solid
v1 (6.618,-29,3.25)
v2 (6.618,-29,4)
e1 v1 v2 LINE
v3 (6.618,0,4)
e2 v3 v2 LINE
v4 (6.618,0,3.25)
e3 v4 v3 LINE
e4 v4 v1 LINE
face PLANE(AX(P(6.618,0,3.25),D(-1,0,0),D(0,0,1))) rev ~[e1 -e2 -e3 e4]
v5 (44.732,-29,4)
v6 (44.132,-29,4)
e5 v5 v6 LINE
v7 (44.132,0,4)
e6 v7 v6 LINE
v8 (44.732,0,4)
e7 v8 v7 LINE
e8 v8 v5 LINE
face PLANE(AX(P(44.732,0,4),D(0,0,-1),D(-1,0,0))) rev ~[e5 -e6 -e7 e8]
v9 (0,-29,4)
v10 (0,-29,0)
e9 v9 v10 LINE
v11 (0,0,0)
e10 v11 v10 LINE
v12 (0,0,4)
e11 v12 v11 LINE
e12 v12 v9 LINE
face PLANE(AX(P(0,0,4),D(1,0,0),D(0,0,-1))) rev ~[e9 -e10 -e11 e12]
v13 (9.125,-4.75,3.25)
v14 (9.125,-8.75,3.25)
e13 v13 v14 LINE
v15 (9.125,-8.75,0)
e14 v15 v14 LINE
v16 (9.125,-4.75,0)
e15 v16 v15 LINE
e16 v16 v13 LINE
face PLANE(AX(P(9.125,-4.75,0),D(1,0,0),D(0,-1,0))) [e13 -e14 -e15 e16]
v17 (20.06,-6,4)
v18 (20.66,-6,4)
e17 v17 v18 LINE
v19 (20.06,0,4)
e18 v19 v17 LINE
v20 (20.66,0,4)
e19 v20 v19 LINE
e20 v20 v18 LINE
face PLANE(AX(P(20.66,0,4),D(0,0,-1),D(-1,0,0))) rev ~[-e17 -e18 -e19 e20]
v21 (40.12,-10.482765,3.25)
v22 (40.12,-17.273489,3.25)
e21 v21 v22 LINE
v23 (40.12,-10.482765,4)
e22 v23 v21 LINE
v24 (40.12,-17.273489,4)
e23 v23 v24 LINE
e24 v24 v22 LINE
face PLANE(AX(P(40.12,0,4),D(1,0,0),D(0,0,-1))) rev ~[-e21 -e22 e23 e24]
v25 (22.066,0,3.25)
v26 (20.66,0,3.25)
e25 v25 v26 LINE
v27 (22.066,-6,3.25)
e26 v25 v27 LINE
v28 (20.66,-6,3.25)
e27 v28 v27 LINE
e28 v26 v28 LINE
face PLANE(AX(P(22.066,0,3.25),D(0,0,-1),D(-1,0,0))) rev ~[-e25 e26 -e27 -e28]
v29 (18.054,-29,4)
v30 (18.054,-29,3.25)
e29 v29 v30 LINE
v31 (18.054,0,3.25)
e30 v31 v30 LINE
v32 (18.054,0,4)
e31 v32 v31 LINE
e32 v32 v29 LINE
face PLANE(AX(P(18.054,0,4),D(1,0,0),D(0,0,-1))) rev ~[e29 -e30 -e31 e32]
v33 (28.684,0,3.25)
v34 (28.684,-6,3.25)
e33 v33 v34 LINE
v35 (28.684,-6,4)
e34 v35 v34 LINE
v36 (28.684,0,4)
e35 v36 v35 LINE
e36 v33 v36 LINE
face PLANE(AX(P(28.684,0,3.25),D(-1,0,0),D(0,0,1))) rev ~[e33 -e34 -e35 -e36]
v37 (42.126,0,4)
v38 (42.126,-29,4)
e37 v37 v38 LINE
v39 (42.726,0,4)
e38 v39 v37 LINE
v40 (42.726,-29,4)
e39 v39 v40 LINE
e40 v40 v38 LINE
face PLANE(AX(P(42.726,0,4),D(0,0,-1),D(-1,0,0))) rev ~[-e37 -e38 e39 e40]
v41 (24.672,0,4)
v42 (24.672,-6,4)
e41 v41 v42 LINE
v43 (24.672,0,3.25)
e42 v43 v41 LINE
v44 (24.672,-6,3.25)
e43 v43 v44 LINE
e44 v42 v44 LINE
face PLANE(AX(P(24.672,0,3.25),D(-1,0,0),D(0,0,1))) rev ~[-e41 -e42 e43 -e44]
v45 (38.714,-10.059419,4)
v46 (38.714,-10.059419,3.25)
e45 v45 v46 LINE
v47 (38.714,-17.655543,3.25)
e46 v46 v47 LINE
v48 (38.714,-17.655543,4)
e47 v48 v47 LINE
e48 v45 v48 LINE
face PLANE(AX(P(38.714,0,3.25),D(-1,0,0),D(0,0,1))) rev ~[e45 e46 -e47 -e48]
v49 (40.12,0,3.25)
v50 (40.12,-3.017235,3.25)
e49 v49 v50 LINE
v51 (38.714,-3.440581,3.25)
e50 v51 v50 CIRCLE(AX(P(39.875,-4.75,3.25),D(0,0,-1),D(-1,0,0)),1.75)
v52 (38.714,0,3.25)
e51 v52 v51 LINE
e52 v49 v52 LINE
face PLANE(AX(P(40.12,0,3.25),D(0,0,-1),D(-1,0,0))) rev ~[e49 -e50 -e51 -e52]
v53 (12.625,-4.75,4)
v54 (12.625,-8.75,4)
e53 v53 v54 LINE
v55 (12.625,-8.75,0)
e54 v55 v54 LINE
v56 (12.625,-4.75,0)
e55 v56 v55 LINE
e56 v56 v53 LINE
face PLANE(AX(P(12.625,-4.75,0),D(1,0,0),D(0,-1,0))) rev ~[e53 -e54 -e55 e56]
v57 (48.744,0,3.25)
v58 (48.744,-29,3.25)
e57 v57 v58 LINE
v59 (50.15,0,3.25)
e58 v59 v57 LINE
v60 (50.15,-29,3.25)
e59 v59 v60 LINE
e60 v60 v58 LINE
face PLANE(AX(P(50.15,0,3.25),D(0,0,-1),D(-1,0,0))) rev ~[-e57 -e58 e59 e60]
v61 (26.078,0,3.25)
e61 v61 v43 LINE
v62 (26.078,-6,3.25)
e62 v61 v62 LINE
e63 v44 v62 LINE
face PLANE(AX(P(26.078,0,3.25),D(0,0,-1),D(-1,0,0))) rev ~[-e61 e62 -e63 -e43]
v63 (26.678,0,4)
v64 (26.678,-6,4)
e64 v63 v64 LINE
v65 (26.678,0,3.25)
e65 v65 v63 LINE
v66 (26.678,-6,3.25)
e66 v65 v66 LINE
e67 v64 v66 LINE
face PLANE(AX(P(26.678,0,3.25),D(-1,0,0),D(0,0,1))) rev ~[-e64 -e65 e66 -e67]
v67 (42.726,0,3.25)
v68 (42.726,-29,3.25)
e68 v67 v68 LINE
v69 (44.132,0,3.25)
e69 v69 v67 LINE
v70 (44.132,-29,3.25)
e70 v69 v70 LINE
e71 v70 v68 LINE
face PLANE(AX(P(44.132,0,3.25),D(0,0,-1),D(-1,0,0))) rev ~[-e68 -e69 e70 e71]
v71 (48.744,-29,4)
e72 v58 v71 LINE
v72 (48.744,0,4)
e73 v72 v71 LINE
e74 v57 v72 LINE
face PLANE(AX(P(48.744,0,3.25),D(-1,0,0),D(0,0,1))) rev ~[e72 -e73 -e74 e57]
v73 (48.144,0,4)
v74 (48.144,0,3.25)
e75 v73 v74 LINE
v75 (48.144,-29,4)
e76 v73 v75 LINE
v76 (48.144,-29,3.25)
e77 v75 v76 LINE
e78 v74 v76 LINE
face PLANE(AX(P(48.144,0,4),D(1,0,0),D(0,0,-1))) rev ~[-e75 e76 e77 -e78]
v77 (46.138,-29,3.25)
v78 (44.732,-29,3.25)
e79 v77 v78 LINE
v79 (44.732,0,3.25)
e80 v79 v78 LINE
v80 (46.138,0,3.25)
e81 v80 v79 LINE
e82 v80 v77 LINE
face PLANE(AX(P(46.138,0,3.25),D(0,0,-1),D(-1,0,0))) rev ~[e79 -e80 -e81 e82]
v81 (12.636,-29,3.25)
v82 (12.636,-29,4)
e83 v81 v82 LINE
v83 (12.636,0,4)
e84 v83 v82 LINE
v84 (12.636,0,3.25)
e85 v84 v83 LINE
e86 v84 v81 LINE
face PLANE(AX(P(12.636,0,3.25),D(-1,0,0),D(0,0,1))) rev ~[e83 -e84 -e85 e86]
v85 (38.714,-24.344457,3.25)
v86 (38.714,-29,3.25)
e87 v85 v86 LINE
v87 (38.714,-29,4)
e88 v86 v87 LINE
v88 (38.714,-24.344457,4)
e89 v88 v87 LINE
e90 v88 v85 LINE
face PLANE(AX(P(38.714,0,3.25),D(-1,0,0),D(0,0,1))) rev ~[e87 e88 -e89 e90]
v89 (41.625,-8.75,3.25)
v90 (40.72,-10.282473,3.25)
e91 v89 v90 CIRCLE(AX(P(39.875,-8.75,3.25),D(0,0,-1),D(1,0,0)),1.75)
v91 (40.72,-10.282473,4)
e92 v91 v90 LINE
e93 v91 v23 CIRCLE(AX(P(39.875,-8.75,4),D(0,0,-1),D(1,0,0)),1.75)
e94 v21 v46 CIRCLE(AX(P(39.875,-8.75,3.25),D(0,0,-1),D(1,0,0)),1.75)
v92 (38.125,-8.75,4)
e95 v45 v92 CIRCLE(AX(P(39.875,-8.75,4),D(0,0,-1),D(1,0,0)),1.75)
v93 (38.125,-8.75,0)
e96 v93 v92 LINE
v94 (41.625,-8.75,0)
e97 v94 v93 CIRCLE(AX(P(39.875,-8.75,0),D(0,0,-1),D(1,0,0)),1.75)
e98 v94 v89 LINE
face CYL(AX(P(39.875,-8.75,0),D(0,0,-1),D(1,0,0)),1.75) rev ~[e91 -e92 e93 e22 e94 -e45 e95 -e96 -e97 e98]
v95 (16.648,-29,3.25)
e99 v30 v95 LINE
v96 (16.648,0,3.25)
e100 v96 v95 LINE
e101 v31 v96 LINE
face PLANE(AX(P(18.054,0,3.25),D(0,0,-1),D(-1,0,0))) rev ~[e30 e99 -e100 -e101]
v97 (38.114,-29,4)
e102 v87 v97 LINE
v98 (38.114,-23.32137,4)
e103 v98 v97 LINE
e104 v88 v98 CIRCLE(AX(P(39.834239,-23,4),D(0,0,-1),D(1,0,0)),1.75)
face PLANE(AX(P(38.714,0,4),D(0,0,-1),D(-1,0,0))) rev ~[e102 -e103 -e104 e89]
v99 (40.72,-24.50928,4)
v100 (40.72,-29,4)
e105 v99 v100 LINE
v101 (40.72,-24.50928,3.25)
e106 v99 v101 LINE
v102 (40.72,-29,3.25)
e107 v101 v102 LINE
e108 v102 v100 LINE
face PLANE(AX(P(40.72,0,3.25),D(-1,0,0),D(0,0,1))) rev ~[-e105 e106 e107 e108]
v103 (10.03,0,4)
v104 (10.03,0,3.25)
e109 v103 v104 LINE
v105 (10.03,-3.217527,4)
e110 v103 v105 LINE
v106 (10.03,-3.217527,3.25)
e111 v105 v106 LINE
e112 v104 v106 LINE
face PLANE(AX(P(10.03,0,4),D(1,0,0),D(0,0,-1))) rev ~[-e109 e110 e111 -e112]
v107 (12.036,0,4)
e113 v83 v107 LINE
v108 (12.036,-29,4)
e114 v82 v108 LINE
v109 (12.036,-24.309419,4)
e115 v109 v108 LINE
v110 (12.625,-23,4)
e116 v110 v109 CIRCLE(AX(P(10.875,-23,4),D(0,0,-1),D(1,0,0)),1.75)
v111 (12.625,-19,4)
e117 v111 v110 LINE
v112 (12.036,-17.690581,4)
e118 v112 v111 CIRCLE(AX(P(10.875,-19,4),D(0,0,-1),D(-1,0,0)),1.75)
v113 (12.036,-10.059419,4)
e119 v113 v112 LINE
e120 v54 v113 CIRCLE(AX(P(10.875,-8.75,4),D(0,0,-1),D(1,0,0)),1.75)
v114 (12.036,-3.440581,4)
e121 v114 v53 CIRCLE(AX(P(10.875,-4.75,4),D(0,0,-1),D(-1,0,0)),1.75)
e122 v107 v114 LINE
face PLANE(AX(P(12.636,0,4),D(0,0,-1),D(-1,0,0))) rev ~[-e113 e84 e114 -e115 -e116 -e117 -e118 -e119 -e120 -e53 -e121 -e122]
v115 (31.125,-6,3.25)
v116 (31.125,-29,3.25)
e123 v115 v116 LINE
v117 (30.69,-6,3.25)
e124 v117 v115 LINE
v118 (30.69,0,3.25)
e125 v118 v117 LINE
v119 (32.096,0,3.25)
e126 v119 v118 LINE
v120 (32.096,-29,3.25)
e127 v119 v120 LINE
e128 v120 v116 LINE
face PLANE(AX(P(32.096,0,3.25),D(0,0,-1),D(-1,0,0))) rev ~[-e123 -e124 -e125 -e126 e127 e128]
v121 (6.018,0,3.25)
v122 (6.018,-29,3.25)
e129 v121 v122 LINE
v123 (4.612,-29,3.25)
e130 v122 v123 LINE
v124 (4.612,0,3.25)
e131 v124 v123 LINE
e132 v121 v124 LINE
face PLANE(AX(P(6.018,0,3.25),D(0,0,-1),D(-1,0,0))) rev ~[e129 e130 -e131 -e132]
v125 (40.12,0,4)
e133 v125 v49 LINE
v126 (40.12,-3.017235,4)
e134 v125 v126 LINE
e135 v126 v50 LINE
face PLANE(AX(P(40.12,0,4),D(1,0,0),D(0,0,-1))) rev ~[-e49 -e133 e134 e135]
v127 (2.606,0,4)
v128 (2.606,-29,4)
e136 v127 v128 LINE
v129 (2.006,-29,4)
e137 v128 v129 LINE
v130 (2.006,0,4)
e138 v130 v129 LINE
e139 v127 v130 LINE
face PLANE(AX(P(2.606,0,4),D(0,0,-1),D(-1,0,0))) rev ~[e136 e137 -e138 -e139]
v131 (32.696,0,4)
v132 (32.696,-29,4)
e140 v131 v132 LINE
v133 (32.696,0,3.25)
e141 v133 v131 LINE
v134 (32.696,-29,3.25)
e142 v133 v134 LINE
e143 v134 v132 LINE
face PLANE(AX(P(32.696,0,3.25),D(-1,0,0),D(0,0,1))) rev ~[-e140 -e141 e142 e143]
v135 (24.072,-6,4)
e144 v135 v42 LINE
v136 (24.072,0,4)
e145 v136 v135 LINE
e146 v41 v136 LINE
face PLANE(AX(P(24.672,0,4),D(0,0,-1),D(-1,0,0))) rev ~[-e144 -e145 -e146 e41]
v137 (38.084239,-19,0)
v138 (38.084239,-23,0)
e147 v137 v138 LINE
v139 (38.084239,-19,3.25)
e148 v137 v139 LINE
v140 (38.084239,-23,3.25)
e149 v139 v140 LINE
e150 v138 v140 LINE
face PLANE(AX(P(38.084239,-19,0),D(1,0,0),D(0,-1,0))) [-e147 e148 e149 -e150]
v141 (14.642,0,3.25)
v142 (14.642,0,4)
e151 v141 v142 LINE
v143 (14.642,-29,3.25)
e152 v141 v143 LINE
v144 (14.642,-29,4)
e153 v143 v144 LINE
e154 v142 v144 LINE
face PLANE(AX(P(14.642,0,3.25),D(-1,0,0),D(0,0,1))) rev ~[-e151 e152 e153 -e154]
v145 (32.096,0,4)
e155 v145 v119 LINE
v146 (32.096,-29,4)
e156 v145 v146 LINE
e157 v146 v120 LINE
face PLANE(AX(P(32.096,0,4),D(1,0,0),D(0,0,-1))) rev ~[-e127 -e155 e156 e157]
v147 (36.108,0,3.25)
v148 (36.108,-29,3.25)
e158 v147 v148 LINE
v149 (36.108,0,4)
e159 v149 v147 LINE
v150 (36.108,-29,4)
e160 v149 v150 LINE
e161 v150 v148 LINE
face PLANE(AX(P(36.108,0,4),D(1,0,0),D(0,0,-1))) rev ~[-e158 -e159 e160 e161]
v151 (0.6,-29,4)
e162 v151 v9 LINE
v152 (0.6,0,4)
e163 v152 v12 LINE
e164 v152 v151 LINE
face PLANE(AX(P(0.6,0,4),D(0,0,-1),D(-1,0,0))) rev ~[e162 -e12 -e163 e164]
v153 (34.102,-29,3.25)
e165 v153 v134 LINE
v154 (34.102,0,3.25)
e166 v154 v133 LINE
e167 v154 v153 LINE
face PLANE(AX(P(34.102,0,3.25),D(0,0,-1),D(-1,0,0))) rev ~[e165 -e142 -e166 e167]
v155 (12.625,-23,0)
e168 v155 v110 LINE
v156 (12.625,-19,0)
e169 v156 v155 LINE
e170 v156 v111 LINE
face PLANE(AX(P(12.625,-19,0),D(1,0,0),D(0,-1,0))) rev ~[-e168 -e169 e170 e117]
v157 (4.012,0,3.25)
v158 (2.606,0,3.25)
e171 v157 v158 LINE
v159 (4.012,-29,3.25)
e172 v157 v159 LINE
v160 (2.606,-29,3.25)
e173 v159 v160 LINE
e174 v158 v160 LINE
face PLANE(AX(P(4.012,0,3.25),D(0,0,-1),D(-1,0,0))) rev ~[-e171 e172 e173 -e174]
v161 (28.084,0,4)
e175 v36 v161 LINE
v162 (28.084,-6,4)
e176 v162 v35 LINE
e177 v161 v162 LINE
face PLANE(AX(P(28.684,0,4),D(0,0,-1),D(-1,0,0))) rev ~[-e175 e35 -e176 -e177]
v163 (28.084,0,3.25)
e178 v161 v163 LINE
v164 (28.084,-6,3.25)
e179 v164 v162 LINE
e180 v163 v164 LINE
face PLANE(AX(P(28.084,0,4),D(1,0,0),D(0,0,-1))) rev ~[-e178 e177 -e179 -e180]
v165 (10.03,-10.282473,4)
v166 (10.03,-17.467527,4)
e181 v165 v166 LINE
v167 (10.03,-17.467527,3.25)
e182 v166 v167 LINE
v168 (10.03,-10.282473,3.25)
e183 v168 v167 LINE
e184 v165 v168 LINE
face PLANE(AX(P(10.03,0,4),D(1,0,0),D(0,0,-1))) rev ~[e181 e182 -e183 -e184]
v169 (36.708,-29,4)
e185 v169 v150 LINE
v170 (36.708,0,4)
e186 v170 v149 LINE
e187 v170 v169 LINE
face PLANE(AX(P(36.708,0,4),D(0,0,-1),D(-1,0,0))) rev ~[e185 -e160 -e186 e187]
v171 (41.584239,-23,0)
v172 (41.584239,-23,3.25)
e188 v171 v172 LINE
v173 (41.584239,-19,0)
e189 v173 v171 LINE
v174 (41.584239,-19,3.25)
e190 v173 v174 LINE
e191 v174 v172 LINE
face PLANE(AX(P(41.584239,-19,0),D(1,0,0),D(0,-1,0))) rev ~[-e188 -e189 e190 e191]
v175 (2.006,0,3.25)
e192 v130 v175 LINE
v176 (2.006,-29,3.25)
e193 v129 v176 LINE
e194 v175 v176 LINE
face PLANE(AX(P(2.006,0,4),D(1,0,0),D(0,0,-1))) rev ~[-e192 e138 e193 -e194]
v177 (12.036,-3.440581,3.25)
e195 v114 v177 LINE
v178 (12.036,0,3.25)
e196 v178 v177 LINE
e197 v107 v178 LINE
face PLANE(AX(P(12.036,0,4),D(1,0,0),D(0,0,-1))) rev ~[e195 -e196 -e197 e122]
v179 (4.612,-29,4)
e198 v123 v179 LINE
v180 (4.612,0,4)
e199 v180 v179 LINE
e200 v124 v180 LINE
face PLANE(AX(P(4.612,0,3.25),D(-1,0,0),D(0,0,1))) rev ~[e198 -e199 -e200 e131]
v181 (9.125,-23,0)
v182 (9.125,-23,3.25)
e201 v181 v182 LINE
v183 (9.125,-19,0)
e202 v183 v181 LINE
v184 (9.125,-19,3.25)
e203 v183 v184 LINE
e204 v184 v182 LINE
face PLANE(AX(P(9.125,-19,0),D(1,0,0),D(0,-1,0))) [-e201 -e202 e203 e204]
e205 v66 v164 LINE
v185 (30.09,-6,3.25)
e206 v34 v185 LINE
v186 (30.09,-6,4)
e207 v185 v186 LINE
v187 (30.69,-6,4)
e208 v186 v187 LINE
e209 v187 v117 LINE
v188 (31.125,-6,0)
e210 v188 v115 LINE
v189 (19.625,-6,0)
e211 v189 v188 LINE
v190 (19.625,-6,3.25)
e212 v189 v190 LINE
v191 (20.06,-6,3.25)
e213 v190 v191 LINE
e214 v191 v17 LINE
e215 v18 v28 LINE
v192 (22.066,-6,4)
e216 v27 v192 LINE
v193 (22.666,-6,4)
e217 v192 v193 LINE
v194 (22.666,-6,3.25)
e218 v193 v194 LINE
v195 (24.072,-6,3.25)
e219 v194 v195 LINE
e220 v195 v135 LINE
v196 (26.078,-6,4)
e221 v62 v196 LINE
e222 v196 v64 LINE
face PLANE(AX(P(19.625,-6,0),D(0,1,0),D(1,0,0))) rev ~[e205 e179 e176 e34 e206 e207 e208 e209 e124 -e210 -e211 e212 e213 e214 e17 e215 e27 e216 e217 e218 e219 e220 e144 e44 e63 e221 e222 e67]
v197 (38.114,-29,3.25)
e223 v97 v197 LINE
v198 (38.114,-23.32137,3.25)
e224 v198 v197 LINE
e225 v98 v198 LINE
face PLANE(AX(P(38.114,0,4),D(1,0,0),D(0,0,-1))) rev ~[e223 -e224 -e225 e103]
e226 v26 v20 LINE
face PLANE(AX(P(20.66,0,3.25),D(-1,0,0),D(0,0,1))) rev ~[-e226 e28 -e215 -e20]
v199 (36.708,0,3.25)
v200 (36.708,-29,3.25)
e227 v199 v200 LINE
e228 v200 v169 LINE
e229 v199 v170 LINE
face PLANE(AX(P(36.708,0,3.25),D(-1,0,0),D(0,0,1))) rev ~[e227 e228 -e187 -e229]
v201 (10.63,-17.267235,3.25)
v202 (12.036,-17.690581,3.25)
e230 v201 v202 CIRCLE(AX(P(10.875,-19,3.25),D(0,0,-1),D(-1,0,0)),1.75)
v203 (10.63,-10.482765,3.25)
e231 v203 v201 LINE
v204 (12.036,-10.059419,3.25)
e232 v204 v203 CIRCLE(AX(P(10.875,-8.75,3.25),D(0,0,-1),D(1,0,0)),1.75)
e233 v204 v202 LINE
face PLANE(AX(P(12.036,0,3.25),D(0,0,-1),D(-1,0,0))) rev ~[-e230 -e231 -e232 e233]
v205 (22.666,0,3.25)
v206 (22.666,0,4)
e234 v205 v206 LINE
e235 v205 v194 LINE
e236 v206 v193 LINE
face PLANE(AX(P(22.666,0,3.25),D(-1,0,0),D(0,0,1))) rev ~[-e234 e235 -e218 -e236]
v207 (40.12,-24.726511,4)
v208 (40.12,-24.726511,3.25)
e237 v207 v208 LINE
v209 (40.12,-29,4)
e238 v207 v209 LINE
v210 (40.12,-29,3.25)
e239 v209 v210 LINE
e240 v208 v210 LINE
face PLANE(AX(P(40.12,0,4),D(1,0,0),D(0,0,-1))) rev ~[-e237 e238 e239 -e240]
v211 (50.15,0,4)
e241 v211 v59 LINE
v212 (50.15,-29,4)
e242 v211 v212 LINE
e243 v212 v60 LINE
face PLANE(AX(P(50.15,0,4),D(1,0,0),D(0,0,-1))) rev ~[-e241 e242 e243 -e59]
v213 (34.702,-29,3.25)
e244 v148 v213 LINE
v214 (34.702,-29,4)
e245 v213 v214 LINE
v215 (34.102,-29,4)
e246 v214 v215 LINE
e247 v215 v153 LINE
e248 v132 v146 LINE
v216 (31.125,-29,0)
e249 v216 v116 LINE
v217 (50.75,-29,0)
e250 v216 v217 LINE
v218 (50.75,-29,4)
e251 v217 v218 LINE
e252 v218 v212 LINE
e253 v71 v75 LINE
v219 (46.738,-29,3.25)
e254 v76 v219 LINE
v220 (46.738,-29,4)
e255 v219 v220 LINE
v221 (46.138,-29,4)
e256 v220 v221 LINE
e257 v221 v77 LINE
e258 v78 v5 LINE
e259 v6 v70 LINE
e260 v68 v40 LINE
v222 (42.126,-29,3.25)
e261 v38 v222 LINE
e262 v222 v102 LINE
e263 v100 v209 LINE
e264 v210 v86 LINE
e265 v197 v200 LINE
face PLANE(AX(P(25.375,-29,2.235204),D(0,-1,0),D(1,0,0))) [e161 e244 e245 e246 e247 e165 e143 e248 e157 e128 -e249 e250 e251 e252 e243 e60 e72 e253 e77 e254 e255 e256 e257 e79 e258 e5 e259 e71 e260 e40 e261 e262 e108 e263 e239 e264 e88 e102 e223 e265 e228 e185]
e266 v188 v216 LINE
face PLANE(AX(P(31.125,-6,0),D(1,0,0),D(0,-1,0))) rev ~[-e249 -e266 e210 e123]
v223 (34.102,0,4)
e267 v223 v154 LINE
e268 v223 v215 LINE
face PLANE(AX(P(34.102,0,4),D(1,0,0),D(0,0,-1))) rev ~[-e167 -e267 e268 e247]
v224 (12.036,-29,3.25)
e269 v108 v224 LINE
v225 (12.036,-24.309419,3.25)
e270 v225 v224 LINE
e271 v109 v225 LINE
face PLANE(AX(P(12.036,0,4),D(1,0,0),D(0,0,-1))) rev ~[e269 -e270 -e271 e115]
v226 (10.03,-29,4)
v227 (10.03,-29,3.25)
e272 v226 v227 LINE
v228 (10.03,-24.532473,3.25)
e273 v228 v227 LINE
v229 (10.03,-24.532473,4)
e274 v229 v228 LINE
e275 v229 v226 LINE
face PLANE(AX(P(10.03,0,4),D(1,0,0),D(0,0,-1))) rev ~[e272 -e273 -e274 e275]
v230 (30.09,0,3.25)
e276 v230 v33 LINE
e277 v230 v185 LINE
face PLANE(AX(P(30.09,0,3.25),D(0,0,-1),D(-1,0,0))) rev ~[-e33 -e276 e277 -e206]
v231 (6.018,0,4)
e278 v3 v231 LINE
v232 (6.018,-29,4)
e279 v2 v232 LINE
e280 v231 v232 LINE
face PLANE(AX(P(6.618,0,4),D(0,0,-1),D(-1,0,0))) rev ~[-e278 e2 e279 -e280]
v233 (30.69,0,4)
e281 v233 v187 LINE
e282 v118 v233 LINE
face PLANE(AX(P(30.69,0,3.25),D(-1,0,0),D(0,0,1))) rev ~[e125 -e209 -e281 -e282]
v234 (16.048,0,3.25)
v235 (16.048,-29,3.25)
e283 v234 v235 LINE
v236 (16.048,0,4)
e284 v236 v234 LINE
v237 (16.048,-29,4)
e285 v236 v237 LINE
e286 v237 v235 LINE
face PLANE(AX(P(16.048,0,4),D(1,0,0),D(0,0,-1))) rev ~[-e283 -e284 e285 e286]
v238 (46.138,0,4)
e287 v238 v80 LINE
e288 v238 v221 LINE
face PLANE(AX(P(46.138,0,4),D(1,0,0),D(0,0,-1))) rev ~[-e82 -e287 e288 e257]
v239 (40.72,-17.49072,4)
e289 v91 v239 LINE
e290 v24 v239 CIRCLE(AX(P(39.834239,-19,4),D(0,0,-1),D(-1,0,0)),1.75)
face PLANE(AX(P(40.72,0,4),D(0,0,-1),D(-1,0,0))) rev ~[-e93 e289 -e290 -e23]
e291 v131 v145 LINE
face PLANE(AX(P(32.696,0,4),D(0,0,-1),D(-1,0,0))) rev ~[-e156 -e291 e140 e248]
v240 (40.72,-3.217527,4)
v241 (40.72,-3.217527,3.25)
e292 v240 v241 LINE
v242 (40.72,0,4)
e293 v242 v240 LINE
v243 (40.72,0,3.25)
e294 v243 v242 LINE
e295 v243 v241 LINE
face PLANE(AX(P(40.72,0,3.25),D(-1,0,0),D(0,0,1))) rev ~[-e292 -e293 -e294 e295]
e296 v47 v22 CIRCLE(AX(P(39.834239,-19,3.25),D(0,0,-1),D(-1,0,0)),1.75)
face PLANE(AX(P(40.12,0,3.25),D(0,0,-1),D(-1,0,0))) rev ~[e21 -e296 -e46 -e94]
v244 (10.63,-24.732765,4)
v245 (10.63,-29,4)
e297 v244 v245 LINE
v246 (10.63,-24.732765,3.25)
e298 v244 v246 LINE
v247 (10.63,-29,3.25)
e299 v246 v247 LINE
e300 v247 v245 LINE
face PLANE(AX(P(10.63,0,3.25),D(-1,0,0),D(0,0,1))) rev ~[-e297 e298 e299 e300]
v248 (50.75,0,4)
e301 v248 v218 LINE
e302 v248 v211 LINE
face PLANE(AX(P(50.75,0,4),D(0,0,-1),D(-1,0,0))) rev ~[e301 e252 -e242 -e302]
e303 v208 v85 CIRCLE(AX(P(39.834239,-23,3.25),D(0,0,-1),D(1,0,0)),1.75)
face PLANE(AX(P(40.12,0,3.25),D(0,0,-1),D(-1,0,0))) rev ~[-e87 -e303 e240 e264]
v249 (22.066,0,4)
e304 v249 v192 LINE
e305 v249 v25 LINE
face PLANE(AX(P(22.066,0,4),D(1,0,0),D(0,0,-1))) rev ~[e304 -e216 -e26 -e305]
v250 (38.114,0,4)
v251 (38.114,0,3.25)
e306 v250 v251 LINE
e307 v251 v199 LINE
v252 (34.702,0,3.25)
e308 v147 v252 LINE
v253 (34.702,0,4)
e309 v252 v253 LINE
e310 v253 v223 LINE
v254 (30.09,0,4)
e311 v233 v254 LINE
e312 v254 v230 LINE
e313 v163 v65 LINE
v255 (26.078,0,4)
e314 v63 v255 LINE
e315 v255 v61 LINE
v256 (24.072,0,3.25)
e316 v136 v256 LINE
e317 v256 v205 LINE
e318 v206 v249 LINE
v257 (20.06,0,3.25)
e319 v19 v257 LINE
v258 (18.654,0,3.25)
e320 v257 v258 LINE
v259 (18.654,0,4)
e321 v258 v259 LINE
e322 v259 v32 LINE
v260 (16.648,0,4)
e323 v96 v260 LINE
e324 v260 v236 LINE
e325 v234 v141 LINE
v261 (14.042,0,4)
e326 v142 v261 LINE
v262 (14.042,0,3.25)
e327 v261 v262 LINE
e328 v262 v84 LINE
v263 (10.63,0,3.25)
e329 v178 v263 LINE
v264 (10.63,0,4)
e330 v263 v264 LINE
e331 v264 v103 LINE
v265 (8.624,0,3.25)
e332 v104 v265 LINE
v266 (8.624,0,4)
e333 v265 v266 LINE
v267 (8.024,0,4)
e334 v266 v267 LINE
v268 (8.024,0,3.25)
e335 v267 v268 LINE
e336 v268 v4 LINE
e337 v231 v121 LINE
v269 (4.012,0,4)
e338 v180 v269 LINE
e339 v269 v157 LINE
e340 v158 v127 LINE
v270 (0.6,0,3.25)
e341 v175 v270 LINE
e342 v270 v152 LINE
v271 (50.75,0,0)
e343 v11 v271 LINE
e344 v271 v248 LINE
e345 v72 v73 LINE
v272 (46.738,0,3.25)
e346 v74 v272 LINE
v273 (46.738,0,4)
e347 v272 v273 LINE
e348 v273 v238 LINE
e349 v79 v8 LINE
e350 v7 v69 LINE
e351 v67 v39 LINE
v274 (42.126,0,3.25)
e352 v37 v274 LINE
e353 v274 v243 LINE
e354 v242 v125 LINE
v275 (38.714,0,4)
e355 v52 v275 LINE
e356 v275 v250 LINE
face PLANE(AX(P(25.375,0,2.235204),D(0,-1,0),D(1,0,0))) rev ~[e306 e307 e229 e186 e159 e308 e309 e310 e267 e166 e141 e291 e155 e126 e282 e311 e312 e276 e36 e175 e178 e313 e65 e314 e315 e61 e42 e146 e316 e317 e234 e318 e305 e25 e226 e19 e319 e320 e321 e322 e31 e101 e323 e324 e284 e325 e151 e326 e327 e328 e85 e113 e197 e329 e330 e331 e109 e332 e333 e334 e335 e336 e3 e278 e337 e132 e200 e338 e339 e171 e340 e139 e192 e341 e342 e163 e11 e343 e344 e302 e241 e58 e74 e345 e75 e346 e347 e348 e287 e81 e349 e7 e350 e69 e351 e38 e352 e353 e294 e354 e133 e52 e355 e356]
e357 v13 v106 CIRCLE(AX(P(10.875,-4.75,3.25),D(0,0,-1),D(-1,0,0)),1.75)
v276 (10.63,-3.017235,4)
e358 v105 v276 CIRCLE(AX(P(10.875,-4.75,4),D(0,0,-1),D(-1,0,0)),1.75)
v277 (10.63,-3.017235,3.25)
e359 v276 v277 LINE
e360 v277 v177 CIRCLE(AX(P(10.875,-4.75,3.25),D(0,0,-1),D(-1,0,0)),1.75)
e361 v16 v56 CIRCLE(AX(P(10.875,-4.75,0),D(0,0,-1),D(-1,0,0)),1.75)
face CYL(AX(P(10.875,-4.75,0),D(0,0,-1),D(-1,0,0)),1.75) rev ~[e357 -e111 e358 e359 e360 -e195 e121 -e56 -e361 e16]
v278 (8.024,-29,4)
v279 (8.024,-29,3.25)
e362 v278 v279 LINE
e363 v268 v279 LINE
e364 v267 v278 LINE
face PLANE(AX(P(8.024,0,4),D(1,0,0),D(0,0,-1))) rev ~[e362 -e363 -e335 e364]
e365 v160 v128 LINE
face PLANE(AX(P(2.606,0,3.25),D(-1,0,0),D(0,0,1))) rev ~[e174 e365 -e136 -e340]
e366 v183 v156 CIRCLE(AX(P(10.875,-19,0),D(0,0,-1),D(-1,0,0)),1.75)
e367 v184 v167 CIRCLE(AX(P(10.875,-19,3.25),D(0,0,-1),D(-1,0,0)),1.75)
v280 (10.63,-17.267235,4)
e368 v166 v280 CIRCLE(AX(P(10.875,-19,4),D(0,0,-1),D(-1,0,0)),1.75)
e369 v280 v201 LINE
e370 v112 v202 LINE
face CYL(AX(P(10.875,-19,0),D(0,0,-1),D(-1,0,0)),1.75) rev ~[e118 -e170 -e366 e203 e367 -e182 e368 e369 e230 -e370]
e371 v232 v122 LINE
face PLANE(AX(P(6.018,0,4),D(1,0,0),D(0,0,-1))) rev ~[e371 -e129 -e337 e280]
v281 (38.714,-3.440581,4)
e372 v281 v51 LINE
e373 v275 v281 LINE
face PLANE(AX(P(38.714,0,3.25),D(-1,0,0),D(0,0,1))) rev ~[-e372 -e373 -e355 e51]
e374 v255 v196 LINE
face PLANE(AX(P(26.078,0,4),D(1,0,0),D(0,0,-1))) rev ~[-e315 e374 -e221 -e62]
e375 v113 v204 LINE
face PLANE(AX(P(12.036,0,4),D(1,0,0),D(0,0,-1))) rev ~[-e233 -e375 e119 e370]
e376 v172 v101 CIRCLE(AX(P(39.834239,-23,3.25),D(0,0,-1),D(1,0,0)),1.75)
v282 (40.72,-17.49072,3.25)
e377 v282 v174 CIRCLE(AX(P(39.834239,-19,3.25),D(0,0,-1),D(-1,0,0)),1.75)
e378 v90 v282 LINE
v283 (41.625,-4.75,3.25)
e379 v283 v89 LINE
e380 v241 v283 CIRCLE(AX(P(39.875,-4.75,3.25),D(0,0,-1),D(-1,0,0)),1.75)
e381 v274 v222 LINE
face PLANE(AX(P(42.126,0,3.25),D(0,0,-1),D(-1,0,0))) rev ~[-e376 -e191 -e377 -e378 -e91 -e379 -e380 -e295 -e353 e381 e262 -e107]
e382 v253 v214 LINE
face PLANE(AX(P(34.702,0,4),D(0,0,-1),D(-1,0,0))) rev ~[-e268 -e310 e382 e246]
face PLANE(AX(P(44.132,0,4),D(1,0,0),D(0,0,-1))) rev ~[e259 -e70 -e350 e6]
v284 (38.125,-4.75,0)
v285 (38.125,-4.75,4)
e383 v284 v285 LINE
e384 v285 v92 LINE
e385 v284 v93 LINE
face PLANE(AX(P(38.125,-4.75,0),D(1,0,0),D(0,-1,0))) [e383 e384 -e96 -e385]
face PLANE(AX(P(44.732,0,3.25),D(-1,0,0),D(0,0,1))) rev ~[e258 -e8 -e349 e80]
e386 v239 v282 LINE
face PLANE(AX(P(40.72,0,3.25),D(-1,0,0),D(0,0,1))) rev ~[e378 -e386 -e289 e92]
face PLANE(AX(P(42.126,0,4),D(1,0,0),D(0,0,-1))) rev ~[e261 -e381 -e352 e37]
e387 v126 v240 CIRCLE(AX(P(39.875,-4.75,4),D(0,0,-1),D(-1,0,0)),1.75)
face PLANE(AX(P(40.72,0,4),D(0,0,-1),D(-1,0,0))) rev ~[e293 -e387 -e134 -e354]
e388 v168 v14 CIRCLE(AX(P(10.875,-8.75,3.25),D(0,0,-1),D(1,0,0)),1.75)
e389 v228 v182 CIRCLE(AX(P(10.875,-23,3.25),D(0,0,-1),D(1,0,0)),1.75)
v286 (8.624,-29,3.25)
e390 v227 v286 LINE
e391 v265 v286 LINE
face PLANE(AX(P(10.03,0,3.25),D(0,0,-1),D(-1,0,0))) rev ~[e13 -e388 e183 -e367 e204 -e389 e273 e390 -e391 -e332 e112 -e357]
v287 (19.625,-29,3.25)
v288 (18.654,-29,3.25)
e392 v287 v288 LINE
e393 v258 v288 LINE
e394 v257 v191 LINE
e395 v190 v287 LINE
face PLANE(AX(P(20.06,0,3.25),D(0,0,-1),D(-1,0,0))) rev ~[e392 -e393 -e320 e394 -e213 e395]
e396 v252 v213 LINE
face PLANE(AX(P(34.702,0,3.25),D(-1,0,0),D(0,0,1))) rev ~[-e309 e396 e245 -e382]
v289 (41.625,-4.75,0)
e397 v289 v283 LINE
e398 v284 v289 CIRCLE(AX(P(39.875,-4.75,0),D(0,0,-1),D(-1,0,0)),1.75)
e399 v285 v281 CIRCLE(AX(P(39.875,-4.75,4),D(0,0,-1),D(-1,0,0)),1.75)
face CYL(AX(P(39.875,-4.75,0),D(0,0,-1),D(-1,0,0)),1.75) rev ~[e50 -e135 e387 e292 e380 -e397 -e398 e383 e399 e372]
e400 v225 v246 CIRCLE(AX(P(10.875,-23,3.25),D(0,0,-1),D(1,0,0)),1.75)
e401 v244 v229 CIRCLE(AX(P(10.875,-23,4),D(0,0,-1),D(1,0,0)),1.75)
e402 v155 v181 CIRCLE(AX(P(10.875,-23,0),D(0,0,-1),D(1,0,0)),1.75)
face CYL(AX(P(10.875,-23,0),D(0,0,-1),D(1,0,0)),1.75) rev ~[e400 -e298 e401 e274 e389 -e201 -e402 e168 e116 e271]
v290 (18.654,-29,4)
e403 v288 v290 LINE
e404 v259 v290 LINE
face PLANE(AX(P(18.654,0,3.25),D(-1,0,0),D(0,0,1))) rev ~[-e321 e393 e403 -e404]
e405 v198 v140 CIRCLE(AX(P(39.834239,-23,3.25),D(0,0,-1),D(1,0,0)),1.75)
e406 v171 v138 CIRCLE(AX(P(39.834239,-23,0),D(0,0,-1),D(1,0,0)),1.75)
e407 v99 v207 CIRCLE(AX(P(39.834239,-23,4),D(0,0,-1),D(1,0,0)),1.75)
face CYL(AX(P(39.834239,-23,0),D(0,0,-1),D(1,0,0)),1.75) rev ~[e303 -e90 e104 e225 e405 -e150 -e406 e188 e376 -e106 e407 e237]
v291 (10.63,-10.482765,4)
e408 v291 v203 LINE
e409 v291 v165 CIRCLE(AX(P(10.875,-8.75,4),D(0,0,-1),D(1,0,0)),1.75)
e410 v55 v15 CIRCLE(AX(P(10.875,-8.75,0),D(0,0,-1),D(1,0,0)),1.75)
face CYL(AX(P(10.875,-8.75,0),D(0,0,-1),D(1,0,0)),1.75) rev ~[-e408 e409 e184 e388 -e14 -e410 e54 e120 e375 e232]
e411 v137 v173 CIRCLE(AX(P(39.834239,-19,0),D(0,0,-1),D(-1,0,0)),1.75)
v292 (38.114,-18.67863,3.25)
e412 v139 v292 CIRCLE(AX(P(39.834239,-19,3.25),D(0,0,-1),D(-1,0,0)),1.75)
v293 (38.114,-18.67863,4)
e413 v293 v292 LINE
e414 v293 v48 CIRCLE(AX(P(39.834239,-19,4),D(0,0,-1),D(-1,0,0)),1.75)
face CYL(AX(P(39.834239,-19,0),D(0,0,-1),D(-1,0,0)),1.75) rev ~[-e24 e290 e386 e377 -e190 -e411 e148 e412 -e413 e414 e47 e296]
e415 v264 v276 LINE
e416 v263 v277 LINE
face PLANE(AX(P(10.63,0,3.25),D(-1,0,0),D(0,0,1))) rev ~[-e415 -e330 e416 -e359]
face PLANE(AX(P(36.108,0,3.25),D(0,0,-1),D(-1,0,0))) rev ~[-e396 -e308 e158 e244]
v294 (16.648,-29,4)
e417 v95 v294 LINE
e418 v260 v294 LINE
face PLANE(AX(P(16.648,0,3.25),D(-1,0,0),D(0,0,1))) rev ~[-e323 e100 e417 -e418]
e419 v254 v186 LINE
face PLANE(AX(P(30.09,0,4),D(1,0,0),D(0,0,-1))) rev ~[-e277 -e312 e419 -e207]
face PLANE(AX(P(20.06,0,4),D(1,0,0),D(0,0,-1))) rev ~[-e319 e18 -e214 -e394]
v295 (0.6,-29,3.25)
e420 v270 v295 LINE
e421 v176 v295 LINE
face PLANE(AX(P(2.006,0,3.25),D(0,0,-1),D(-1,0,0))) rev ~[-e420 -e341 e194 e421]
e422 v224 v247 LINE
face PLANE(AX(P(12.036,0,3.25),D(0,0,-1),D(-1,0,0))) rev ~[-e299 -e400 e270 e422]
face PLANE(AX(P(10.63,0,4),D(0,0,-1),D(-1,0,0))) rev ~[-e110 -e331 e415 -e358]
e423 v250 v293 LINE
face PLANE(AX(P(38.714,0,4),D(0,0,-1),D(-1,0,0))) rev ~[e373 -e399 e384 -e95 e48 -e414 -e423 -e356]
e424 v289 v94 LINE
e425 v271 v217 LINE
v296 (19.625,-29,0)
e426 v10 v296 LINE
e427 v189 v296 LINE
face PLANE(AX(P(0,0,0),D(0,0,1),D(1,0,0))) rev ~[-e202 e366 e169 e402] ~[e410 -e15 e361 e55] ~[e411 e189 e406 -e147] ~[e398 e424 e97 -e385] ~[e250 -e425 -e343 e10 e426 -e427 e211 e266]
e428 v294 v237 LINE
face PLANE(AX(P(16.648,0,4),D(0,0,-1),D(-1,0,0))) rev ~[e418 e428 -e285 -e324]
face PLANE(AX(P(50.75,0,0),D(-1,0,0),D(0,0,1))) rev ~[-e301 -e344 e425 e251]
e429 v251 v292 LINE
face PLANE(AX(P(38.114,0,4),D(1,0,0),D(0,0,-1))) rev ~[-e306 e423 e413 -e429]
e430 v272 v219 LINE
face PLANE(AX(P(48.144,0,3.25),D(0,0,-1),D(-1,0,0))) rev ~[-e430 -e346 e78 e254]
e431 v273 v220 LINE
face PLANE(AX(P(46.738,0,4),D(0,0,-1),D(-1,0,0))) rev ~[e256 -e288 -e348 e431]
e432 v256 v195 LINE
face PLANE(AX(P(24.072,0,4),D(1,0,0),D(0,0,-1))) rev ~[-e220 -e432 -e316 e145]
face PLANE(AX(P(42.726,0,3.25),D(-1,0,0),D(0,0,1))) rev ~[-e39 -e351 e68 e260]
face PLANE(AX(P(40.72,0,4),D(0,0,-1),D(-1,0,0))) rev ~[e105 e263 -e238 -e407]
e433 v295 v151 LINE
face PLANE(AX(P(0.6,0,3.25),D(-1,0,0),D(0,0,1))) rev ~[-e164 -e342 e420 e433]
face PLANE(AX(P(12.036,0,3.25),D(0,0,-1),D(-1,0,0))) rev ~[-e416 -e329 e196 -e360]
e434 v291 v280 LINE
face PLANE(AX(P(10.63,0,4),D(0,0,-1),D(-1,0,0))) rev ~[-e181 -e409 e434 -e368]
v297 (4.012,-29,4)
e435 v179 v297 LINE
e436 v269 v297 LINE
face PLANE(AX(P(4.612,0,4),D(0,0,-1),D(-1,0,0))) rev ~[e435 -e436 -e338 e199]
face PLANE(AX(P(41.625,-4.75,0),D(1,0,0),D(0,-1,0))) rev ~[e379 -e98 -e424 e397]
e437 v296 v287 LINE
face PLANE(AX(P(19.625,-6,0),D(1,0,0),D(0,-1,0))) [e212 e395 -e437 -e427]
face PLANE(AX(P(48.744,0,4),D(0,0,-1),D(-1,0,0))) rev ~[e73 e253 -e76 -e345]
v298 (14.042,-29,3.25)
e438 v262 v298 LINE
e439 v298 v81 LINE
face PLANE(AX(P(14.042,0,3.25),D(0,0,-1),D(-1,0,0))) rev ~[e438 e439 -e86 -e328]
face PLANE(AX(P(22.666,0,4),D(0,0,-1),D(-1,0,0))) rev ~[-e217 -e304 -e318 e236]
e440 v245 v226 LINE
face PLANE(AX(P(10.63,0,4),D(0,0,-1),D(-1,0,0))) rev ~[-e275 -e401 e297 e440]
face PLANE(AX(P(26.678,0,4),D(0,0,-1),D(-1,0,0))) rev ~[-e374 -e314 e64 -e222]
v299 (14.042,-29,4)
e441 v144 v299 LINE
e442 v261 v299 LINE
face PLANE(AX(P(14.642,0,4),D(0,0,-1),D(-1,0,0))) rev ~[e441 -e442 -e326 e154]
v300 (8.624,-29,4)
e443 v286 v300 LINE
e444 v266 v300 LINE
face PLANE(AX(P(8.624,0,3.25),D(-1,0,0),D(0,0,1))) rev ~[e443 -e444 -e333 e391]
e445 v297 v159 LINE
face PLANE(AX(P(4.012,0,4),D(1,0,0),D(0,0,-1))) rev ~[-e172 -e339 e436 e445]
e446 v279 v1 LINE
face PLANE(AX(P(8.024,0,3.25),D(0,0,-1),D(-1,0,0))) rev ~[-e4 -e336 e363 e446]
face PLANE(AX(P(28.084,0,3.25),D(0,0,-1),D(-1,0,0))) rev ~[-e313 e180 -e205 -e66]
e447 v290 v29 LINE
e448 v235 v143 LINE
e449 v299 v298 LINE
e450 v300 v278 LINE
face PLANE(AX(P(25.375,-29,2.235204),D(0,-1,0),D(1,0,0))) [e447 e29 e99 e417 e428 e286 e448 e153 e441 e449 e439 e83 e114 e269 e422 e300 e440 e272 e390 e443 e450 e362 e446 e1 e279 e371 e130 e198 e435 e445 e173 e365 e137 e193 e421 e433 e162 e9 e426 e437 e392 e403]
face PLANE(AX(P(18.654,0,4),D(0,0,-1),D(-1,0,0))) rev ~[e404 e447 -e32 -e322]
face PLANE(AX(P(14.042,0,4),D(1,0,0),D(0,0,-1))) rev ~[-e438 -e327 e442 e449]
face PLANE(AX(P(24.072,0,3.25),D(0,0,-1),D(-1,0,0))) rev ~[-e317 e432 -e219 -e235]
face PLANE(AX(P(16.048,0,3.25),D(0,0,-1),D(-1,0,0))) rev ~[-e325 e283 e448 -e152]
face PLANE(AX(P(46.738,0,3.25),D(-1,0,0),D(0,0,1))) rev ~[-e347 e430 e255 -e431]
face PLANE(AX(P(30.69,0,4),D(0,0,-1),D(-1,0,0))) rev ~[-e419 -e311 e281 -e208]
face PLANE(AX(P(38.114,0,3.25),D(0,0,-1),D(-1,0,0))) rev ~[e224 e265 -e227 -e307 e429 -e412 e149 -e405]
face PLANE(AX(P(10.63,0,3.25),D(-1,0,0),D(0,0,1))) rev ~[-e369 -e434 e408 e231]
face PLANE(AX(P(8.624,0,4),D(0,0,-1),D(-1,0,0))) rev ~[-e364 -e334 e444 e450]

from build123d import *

# Parameters (mm, degrees)
F1_DEPTH = 29
F2_W     = 5.75
F2_H     = 23
F3_DEPTH = 4
F2_W_2   = 3.5
F2_H_2   = 4
F4_DEPTH = 4.001


with BuildPart() as f1:
    # F0 (on Front) → F1 (new body)
    with BuildSketch(Plane.XZ):
        Polygon((0, 4), (0, 0), (50.75, 0), (50.75, 3.25), (50.75, 4), (50.15, 4), (50.15, 3.25), (48.744, 3.25), (48.744, 4), (48.144, 4), (48.144, 3.25), (46.738, 3.25), (46.738, 4), (46.138, 4), (46.138, 3.25), (44.732, 3.25), (44.732, 4), (44.132, 4), (44.132, 3.25), (42.726, 3.25), (42.726, 4), (42.126, 4), (42.126, 3.25), (40.72, 3.25), (40.72, 4), (40.12, 4), (40.12, 3.25), (38.714, 3.25), (38.714, 4), (38.114, 4), (38.114, 3.25), (36.708, 3.25), (36.708, 4), (36.108, 4), (36.108, 3.25), (34.702, 3.25), (34.702, 4), (34.102, 4), (34.102, 3.25), (32.696, 3.25), (32.696, 4), (32.096, 4), (32.096, 3.25), (30.69, 3.25), (30.69, 4), (30.09, 4), (30.09, 3.25), (28.684, 3.25), (28.684, 4), (28.084, 4), (28.084, 3.25), (26.678, 3.25), (26.678, 4), (26.078, 4), (26.078, 3.25), (24.672, 3.25), (24.672, 4), (24.072, 4), (24.072, 3.25), (22.666, 3.25), (22.666, 4), (22.066, 4), (22.066, 3.25), (20.66, 3.25), (20.66, 4), (20.06, 4), (20.06, 3.25), (18.654, 3.25), (18.654, 4), (18.054, 4), (18.054, 3.25), (16.648, 3.25), (16.648, 4), (16.048, 4), (16.048, 3.25), (14.642, 3.25), (14.642, 4), (14.042, 4), (14.042, 3.25), (12.636, 3.25), (12.636, 4), (12.036, 4), (12.036, 3.25), (10.63, 3.25), (10.63, 4), (10.03, 4), (10.03, 3.25), (8.624, 3.25), (8.624, 4), (8.324, 4), (8.024, 4), (8.024, 3.25), (6.618, 3.25), (6.618, 4), (6.318, 4), (6.018, 4), (6.018, 3.25), (4.612, 3.25), (4.612, 4), (4.012, 4), (4.012, 3.25), (2.606, 3.25), (2.606, 4), (2.006, 4), (2.006, 3.25), (0.6, 3.25), (0.6, 4), align=None)
    extrude(amount=F1_DEPTH)

    # F2 (on face) → F3 (cut, through all)
    with BuildSketch(Plane(origin=(0, 0, 0), x_dir=(1, 0, 0), z_dir=(0, 0, -1))):
        with Locations((22.5, 17.5)):
            Rectangle(F2_W, F2_H)
        with Locations((28.25, 17.5)):
            Rectangle(F2_W, F2_H)
    extrude(amount=-F3_DEPTH, mode=Mode.SUBTRACT)

    # F2 (on face) → F4 (cut, through all)
    with BuildSketch(Plane(origin=(0, 0, 0), x_dir=(1, 0, 0), z_dir=(0, 0, -1))):
        with BuildLine():
            ThreePointArc((12.625, 23), (10.875, 24.75), (9.125, 23))
            Line((9.125, 23), (12.625, 23))
        make_face()
        with Locations((10.875, 21)):
            Rectangle(F2_W_2, F2_H_2)
        with BuildLine():
            Line((12.625, 19), (9.125, 19))
            ThreePointArc((9.125, 19), (10.875, 17.25), (12.625, 19))
        make_face()
        with BuildLine():
            ThreePointArc((12.625, 8.75), (10.875, 10.5), (9.125, 8.75))
            Line((9.125, 8.75), (12.625, 8.75))
        make_face()
        with Locations((10.875, 6.75)):
            Rectangle(F2_W_2, F2_H_2)
        with BuildLine():
            Line((12.625, 4.75), (9.125, 4.75))
            ThreePointArc((9.125, 4.75), (10.875, 3), (12.625, 4.75))
        make_face()
        with BuildLine():
            ThreePointArc((41.5842387676, 23), (39.8342387676, 24.75), (38.0842387676, 23))
            Line((38.0842387676, 23), (41.5842387676, 23))
        make_face()
        with Locations((39.8342387676, 21)):
            Rectangle(F2_W_2, F2_H_2)
        with BuildLine():
            Line((41.5842387676, 19), (38.0842387676, 19))
            ThreePointArc((38.0842387676, 19), (39.8342387676, 17.25), (41.5842387676, 19))
        make_face()
        with BuildLine():
            ThreePointArc((41.625, 8.75), (39.875, 10.5), (38.125, 8.75))
            Line((38.125, 8.75), (41.625, 8.75))
        make_face()
        with Locations((39.875, 6.75)):
            Rectangle(F2_W_2, F2_H_2)
        with BuildLine():
            Line((41.625, 4.75), (38.125, 4.75))
            ThreePointArc((38.125, 4.75), (39.875, 3), (41.625, 4.75))
        make_face()
    extrude(amount=-F4_DEPTH, mode=Mode.SUBTRACT)


solid = f1.part
